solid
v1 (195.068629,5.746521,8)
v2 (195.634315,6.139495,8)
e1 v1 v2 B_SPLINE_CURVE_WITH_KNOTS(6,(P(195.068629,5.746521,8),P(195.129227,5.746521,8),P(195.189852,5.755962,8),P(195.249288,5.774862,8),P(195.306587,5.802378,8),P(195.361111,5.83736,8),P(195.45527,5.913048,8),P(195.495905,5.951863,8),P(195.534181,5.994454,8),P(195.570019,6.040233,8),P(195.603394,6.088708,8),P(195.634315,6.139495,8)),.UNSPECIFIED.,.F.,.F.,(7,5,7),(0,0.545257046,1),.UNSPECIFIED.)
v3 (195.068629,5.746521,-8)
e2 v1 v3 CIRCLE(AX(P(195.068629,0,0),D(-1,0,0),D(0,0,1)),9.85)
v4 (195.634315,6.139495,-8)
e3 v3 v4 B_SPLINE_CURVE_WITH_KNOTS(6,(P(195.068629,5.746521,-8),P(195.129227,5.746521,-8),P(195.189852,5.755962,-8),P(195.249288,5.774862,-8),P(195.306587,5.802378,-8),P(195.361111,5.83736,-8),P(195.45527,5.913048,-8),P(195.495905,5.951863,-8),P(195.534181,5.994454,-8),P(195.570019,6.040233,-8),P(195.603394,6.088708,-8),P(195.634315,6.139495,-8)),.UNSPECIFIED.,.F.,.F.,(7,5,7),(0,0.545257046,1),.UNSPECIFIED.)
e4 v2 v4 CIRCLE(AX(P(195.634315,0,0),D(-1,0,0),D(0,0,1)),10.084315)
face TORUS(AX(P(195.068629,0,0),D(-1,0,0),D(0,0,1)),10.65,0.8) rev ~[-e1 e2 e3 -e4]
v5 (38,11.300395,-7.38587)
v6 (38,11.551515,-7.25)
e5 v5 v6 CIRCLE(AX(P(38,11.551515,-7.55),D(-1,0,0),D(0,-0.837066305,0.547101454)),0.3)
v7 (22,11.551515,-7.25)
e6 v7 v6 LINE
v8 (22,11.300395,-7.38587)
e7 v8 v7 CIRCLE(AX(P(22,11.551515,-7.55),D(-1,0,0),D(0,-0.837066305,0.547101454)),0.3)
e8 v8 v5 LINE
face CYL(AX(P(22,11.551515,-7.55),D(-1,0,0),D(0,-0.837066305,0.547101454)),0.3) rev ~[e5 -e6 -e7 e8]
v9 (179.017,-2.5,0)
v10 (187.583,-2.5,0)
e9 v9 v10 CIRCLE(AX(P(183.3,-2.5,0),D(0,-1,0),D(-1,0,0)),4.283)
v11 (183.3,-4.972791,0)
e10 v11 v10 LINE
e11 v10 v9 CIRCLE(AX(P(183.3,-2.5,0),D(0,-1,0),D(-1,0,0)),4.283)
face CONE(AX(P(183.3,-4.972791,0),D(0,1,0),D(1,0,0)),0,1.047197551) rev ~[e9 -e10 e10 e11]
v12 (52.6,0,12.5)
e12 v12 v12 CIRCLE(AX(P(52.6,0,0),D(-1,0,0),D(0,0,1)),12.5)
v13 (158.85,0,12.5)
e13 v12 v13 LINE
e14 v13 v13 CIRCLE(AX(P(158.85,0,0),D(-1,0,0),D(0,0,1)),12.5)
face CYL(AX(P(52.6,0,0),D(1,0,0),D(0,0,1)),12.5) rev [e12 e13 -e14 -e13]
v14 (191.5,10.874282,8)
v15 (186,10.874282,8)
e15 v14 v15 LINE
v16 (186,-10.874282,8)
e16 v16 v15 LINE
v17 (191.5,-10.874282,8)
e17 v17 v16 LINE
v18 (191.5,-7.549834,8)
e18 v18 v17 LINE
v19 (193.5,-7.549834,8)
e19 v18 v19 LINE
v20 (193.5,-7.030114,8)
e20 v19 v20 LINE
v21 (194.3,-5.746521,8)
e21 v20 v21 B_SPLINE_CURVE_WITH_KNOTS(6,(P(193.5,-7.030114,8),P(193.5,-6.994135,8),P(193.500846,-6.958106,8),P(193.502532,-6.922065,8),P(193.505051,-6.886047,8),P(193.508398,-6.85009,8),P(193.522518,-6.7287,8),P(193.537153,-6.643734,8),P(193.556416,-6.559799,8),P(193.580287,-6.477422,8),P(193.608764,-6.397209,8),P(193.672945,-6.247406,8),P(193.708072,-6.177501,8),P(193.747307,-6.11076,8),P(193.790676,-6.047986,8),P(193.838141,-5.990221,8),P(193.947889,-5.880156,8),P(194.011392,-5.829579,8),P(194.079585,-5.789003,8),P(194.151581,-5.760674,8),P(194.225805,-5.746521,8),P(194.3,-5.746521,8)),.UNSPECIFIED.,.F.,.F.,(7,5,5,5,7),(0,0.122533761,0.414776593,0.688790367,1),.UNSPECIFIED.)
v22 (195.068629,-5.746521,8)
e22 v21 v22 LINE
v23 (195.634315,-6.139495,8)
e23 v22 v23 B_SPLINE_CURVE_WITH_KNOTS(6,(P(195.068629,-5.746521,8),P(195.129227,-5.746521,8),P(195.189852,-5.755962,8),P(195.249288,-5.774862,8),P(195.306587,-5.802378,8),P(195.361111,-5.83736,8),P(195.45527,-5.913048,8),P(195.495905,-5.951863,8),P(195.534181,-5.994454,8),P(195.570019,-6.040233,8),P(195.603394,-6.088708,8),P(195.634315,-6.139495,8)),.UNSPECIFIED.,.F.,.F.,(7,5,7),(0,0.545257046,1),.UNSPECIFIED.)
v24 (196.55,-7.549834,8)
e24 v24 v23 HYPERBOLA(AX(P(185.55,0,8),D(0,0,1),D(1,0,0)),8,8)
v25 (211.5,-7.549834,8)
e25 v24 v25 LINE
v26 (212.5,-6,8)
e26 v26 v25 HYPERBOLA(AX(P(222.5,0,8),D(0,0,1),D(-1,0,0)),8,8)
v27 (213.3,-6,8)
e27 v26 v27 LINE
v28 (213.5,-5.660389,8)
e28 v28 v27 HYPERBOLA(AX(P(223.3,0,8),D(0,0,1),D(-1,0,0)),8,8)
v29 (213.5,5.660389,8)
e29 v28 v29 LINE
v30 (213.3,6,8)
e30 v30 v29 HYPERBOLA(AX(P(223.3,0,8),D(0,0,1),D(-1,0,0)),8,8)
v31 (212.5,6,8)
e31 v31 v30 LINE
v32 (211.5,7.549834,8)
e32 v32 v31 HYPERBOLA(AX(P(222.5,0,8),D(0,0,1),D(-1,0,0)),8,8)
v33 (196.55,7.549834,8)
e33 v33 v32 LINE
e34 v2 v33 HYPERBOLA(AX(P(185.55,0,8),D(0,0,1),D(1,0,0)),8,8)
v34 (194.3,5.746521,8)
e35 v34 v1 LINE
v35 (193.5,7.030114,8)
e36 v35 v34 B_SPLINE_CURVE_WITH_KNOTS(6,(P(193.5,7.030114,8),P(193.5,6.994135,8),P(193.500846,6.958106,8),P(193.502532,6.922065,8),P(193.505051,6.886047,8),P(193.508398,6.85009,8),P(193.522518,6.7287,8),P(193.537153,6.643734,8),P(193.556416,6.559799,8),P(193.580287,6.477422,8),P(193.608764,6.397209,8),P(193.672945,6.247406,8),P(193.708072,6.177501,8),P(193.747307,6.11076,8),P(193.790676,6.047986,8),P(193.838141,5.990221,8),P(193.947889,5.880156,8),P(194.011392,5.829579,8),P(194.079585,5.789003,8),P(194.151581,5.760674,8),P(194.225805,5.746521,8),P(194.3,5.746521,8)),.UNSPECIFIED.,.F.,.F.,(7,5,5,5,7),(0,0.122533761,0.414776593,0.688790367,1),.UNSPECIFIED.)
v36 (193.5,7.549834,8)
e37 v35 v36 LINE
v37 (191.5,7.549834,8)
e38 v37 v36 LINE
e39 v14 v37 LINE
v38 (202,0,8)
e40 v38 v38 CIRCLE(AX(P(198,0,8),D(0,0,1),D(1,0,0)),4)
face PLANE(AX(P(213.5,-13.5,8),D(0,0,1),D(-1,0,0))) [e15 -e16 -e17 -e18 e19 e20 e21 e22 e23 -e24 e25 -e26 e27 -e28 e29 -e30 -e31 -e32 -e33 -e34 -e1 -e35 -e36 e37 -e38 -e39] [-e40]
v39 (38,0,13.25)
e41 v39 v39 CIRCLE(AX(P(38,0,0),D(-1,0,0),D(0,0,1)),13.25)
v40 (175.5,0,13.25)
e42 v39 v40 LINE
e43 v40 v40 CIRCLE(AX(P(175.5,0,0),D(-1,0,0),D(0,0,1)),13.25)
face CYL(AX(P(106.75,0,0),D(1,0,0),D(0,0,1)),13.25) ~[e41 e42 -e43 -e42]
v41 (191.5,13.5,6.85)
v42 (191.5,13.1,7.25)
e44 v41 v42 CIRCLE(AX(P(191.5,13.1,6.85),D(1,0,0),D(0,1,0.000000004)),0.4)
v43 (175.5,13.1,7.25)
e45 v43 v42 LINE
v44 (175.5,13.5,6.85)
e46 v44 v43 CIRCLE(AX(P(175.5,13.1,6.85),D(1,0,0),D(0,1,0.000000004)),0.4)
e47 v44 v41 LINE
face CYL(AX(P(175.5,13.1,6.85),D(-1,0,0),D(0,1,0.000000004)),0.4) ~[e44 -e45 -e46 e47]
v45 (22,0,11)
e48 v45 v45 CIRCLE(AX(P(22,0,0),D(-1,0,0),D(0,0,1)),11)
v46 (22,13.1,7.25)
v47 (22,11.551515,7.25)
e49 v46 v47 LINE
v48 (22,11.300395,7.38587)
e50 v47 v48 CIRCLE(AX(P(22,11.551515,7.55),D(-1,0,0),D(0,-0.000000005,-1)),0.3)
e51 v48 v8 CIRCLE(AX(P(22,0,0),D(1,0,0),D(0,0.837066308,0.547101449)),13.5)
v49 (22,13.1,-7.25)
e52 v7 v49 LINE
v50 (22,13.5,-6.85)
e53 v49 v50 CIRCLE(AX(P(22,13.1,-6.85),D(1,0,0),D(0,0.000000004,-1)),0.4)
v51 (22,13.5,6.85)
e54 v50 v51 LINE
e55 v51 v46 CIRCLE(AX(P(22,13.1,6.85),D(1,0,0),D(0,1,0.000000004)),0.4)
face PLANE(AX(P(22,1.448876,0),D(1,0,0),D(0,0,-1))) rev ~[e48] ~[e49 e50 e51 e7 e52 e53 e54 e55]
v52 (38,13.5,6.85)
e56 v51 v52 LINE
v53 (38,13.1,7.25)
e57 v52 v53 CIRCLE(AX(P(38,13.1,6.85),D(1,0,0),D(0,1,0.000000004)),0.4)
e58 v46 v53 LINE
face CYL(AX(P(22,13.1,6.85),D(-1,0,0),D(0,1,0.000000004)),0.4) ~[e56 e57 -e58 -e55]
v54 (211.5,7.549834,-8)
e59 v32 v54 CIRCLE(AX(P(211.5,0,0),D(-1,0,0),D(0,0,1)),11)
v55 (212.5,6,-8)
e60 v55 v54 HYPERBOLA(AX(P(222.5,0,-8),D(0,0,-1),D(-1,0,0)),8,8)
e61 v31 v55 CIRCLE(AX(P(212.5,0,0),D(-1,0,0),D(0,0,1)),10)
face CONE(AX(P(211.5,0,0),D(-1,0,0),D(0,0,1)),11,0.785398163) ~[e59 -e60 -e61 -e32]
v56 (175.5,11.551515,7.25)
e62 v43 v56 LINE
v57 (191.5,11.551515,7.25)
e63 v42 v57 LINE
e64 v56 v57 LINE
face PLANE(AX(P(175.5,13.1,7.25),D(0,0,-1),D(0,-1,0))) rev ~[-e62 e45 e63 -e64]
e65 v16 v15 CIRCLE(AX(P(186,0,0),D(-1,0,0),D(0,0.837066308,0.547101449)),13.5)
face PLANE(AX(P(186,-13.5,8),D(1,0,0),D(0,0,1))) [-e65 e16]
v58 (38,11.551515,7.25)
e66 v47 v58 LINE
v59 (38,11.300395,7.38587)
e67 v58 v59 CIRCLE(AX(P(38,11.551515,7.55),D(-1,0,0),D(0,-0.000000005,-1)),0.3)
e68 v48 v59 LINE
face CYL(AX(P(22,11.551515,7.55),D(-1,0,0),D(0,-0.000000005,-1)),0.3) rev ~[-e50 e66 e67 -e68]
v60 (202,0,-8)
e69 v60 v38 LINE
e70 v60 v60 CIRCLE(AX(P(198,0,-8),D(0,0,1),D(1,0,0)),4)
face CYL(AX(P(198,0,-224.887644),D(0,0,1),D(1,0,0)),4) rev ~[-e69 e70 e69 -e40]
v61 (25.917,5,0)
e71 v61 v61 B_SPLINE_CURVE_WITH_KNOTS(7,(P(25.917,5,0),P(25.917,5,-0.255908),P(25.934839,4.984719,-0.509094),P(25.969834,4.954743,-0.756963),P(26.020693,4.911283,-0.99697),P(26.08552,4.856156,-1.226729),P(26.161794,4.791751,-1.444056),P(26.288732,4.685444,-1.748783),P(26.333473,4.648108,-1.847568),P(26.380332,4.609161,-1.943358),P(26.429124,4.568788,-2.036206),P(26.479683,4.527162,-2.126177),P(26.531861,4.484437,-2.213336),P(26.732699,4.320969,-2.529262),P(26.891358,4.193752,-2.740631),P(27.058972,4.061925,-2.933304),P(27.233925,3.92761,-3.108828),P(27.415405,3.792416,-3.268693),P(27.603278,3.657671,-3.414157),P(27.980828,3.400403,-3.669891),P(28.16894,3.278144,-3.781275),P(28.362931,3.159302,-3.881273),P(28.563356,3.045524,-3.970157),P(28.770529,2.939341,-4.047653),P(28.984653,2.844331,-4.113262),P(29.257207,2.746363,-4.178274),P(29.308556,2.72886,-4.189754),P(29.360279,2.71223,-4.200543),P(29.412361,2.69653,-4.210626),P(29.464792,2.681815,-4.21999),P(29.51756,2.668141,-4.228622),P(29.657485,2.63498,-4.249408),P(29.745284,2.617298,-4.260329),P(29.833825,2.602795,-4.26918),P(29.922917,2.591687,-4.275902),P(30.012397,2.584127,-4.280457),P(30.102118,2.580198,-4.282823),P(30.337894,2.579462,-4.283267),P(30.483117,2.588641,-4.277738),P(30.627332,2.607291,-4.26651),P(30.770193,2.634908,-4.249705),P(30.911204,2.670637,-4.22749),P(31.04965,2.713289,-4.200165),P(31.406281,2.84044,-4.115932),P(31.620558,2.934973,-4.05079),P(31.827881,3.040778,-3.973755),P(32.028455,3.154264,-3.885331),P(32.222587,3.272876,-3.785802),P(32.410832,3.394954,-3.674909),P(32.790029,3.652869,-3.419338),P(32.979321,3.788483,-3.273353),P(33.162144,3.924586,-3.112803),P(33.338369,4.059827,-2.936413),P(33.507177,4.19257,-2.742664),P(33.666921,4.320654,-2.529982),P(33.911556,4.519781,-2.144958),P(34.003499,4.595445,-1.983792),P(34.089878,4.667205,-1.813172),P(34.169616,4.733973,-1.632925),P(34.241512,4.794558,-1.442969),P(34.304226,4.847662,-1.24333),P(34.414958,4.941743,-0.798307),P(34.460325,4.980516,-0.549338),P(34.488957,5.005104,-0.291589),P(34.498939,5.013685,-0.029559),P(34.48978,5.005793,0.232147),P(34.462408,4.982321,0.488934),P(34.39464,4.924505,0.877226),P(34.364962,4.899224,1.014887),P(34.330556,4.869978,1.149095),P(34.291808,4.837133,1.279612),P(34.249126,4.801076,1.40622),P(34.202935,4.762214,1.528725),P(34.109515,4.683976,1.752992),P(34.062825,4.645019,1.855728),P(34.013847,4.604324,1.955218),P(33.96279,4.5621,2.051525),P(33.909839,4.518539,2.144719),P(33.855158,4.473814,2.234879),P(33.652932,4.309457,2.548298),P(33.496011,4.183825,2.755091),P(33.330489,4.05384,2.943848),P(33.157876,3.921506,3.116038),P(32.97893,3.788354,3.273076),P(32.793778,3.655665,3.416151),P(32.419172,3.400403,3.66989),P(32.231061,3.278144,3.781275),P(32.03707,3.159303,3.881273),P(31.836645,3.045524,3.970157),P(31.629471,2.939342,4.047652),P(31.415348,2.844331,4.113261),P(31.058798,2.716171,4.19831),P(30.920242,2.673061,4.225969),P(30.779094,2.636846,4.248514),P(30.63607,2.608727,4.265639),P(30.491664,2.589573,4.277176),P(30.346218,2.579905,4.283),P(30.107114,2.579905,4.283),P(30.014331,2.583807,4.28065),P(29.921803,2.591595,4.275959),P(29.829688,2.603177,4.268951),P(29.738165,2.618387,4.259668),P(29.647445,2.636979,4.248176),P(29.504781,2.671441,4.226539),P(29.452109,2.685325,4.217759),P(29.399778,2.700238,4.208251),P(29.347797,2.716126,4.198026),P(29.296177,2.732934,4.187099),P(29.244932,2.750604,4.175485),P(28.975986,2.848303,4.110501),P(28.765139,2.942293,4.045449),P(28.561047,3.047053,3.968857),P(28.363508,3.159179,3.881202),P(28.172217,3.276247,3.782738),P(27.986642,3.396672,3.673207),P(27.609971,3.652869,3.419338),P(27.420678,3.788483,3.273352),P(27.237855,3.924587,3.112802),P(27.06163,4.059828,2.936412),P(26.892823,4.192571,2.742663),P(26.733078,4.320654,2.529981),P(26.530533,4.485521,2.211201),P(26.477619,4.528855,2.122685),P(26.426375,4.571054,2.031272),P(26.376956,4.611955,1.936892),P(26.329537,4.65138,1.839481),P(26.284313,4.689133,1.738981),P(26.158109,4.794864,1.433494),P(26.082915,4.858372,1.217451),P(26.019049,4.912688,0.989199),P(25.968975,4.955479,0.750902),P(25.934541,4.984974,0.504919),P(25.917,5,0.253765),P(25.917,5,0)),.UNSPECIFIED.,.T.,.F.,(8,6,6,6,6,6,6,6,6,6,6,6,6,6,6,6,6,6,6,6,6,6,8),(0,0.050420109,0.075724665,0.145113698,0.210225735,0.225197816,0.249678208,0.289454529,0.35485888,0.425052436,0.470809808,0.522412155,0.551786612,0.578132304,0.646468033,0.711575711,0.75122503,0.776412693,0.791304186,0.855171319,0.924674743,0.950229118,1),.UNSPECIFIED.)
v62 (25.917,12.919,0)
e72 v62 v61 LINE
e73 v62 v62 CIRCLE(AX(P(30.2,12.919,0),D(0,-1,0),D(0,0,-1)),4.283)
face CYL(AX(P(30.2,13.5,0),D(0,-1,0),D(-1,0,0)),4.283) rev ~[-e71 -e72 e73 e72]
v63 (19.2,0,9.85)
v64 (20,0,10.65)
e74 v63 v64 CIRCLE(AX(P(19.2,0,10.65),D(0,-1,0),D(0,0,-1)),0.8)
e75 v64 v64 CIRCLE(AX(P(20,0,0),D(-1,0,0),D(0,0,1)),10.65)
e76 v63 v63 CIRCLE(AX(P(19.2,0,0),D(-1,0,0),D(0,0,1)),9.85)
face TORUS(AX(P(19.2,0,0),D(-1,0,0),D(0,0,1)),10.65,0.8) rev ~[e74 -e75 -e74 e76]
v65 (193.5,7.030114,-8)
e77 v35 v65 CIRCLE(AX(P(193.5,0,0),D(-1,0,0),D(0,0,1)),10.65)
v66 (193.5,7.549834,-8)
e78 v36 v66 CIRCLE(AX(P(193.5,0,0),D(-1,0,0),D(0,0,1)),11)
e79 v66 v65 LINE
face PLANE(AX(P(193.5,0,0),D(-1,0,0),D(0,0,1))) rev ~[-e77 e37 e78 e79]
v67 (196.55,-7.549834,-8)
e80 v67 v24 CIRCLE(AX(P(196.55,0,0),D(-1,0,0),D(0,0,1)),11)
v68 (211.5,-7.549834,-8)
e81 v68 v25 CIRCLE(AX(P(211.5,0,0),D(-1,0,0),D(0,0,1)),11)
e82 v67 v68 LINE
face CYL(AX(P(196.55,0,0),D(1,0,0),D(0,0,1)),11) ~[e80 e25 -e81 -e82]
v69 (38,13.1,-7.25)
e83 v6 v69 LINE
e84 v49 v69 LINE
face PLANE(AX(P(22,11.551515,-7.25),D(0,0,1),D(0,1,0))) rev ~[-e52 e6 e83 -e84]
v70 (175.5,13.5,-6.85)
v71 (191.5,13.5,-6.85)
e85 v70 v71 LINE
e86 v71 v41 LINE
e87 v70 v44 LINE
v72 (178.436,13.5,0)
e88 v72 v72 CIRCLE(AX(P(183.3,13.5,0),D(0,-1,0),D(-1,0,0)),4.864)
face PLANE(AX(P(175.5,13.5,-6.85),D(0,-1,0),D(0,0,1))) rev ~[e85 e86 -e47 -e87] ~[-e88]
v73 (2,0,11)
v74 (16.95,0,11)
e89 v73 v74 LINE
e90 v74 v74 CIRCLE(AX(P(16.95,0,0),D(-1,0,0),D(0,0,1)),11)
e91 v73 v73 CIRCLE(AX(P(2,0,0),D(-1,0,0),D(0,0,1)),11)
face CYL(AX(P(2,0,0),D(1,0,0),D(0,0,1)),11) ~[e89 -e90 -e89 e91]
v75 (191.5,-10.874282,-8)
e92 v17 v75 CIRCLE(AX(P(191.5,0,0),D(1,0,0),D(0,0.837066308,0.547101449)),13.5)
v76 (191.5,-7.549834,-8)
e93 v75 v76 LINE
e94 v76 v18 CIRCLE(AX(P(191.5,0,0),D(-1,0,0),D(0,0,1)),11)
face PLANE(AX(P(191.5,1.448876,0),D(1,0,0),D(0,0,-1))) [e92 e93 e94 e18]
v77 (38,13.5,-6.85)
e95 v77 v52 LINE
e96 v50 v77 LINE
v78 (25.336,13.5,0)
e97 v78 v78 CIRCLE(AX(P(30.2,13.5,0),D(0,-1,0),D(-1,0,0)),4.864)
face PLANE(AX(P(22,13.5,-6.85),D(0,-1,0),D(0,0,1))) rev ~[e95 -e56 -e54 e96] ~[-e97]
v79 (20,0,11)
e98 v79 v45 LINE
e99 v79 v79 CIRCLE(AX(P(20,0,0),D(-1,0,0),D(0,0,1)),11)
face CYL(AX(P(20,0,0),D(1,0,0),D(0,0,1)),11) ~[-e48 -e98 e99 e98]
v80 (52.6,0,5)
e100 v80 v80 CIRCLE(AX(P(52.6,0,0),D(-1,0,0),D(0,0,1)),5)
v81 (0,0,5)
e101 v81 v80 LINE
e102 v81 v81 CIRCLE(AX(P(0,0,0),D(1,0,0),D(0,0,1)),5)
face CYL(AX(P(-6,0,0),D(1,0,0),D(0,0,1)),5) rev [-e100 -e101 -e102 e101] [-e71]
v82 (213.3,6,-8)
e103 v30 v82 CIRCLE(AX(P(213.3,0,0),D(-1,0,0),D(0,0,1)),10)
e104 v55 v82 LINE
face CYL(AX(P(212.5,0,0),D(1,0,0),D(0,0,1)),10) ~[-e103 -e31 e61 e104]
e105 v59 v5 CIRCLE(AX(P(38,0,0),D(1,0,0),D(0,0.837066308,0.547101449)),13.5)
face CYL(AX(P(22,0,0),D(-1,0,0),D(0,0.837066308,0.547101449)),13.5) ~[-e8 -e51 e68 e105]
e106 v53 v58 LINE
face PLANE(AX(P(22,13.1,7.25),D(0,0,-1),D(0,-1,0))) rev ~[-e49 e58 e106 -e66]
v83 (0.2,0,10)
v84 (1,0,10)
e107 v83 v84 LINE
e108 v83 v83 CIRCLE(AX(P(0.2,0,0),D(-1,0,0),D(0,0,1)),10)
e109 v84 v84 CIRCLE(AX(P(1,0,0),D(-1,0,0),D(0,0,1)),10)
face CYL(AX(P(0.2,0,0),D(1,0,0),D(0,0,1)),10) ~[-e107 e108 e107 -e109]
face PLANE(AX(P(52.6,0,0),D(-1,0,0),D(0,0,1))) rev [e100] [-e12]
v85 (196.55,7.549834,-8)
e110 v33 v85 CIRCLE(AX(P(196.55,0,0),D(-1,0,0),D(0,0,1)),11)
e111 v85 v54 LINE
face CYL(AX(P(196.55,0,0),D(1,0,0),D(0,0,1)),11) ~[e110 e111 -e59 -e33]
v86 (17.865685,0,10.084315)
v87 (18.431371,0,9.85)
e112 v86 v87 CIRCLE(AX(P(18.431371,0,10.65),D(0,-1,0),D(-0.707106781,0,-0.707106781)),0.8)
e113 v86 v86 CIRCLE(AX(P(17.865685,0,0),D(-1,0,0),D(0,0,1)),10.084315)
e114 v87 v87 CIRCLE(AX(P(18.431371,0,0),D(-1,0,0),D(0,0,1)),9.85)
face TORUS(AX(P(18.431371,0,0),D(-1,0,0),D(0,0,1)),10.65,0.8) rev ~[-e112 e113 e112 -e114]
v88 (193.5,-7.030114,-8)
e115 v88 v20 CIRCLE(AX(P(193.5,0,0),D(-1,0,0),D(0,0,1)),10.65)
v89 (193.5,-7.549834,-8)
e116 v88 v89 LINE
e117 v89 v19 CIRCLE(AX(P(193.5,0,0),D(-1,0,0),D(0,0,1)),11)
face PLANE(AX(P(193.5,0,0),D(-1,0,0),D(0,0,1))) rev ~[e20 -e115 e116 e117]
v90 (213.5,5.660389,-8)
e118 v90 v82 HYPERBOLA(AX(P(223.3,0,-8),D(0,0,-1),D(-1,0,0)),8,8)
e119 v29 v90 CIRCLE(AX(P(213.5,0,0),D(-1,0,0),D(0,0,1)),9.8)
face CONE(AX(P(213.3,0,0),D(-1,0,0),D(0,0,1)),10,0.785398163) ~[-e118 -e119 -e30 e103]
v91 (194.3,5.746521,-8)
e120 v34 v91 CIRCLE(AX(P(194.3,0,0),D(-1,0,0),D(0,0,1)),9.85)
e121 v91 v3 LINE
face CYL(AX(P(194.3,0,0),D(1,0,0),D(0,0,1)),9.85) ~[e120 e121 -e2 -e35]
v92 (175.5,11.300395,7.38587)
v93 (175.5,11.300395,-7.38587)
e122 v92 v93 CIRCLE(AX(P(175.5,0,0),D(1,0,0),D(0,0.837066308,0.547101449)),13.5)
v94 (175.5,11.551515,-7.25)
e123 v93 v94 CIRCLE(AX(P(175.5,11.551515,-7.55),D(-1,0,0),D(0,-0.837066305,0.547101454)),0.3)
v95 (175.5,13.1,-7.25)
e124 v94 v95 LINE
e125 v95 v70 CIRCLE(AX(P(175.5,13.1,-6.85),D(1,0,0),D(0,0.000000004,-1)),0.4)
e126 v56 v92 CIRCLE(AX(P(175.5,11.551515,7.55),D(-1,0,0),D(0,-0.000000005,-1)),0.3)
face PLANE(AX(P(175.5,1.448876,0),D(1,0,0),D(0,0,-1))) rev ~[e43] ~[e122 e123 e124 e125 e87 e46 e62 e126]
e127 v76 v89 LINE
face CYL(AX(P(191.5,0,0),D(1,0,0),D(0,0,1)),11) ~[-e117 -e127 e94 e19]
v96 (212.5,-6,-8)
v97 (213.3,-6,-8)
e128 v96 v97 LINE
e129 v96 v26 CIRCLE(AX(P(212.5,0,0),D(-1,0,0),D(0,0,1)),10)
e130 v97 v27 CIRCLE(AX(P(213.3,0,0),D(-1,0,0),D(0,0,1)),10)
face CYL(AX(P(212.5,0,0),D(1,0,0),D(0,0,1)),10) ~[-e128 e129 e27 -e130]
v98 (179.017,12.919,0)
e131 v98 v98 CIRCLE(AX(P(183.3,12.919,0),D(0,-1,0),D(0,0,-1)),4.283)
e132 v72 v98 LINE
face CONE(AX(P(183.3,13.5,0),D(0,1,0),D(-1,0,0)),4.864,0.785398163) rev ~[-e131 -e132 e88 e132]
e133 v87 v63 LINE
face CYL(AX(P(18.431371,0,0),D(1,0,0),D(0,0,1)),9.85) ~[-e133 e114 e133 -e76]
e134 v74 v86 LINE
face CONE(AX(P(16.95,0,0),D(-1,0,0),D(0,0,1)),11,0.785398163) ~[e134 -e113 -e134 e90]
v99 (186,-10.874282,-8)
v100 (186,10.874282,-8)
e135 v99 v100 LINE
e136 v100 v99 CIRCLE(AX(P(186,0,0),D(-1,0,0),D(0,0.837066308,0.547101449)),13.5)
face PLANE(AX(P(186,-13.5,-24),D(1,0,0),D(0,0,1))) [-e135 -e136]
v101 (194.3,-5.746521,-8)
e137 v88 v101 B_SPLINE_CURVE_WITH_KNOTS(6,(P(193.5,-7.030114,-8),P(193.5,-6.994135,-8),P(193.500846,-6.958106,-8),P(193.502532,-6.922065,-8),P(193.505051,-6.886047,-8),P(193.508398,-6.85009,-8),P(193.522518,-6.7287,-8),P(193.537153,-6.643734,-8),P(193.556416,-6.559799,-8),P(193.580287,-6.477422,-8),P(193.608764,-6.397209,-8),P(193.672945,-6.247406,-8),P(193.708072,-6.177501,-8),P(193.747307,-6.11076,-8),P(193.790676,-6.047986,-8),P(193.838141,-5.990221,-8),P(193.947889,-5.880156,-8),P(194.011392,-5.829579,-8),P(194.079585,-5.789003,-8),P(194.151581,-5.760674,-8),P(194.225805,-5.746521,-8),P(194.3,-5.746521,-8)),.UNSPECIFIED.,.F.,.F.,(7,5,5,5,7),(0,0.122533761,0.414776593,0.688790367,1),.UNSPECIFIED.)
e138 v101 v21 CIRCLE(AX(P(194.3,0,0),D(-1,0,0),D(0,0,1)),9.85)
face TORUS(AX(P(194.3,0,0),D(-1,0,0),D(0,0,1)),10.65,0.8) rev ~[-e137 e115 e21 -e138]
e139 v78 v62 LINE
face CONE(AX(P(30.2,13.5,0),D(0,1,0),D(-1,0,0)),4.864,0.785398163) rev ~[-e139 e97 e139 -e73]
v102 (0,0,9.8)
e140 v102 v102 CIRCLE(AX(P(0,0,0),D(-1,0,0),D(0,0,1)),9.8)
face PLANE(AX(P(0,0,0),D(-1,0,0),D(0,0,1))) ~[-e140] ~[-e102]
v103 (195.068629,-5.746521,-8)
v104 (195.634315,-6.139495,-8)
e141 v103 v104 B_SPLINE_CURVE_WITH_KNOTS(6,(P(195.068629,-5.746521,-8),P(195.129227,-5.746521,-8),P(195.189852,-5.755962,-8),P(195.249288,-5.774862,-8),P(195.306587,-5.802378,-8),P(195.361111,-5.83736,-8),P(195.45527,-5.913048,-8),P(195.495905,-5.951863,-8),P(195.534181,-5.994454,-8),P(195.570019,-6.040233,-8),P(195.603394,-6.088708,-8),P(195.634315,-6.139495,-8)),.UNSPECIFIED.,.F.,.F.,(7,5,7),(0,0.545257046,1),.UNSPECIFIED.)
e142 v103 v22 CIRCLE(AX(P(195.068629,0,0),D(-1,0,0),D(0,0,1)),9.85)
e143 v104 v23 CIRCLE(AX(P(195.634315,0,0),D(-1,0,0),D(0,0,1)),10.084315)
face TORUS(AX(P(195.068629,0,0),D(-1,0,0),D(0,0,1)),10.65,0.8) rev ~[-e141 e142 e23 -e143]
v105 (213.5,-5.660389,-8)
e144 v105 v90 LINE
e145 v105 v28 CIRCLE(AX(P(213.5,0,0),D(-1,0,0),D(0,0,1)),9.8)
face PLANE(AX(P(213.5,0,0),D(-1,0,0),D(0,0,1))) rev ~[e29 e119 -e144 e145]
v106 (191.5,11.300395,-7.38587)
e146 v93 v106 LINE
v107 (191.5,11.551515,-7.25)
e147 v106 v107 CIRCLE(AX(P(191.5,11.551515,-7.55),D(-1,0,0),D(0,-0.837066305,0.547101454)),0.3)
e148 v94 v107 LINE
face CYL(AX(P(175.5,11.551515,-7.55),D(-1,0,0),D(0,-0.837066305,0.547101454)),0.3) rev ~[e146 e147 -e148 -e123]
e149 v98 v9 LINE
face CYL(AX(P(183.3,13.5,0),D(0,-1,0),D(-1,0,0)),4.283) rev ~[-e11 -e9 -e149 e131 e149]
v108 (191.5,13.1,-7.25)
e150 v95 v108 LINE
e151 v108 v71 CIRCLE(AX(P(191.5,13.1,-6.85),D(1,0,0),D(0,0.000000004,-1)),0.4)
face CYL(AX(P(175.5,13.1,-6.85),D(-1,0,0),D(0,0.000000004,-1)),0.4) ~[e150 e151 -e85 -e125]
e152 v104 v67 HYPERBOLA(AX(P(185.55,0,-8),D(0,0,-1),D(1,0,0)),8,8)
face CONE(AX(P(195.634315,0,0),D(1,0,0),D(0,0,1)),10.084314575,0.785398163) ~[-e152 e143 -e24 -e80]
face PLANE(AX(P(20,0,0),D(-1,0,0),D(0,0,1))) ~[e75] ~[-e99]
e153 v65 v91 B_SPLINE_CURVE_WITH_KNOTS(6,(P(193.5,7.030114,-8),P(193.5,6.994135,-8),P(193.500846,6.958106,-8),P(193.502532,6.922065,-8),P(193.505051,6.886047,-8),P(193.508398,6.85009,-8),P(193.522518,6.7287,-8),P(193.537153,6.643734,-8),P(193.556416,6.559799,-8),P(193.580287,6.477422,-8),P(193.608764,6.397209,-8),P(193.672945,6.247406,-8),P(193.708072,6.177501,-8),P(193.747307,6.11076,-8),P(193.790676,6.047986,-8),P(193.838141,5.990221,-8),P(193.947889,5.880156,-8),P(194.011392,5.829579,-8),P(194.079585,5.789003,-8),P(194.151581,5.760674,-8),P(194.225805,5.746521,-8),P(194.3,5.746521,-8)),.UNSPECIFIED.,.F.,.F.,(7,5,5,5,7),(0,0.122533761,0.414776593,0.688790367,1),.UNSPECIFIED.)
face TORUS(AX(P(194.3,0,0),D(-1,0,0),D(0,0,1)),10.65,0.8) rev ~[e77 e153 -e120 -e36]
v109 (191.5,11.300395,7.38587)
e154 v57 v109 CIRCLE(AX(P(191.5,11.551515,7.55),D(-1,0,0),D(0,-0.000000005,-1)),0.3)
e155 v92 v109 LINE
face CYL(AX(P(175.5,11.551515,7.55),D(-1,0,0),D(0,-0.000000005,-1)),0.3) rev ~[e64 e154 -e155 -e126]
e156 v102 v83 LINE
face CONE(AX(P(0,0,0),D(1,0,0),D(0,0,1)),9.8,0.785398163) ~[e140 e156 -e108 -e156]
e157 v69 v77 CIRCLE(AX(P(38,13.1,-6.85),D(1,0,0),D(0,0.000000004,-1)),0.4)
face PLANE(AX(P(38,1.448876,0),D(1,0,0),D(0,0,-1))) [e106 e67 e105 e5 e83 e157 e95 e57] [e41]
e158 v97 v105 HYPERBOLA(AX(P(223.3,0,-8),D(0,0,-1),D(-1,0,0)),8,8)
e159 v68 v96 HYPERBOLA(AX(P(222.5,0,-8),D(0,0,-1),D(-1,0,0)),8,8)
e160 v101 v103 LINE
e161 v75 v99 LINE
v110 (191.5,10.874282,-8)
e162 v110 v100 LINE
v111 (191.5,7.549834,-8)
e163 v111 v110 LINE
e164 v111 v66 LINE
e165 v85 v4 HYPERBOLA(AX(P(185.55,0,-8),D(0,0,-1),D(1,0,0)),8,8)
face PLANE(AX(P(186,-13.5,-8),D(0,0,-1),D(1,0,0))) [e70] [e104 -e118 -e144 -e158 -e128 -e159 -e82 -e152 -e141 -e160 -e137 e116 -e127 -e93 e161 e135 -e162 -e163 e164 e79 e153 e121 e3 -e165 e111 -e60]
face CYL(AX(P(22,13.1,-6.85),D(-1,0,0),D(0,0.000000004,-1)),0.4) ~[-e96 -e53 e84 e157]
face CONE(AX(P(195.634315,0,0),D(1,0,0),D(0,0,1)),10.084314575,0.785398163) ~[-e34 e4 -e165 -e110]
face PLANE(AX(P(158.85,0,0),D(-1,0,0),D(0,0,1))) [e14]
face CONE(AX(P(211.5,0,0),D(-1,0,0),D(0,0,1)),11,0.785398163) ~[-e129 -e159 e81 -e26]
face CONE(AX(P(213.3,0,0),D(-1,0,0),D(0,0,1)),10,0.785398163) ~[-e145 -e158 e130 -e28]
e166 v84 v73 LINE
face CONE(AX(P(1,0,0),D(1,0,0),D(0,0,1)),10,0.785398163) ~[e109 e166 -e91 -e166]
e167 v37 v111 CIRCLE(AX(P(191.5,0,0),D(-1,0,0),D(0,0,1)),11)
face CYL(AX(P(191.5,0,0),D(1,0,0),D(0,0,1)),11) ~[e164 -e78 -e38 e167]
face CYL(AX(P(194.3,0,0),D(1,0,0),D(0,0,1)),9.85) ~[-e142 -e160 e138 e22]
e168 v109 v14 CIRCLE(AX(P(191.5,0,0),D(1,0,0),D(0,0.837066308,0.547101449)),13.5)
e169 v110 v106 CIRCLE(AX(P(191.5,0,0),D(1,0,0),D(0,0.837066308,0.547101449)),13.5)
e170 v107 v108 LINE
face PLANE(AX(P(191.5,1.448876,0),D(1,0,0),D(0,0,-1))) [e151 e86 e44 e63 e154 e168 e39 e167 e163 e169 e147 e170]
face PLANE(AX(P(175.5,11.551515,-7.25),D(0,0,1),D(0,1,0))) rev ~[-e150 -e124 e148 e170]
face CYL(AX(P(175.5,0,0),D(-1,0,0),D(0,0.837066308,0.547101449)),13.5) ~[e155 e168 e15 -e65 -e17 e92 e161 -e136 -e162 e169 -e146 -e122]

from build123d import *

# Parameters (mm, degrees)
AUFSATZ_LINEAR_AUSTRAGEN1_DEPTH      = 16
SKIZZE3_W                            = 137.5
SKIZZE3_H                            = 13.25
AUFSATZ_LINEAR_AUSTRAGEN2_DEPTH      = 16
SCHNITT_LINEAR_AUSTRAGEN1_DEPTH      = 13.5
SCHNITT_LINEAR_AUSTRAGEN1_DEPTH_BACK = 13.5
BOHRUNG1_D                           = 8
BOHRUNG2_D                           = 8.566
BOHRUNG2_DEPTH                       = 13.5
BOHRUNG2_CSINK_D                     = 9.728
BOHRUNG2_CSINK_ANGLE                 = 90
BOHRUNG3_D                           = 8.566
BOHRUNG3_DEPTH                       = 16
BOHRUNG3_CSINK_D                     = 9.728
BOHRUNG3_CSINK_ANGLE                 = 90
BOHRUNG3_TIP                         = 2.472791203


with BuildPart() as part:
    # Skizze1 → Rotation1 (revolve)
    with BuildSketch(Plane.XY):
        with BuildLine():
            Line((0, 0), (0, 9.8))
            Line((0, 9.8), (0.2, 10))
            Line((0.2, 10), (1, 10))
            Line((1, 10), (2, 11))
            Line((2, 11), (16.95, 11))
            Line((16.95, 11), (17.865685425, 10.084314575))
            ThreePointArc((17.865685425, 10.084314575), (18.125224104, 9.910896374), (18.43137085, 9.85))
            Line((18.43137085, 9.85), (19.2, 9.85))
            ThreePointArc((19.2, 9.85), (19.765685425, 10.084314575), (20, 10.65))
            Line((20, 10.65), (20, 11))
            Line((20, 11), (22, 11))
            Line((22, 11), (22, 0))
            Line((22, 0), (0, 0))
        make_face()
    revolve(axis=Axis((22, 0, 0), (-1, 0, 0)))

    # Skizze2 → Aufsatz-Linear austragen1 (add)
    with BuildSketch(Plane(origin=(22, 0, 0), x_dir=(0, 0, -1), z_dir=(1, 0, 0))):
        with BuildLine():
            Line((7.25, 11.551515052), (7.25, 13.1))
            ThreePointArc((7.25, 13.1), (7.132842712, 13.382842712), (6.85, 13.5))
            Line((6.85, 13.5), (-6.85, 13.5))
            ThreePointArc((-6.85, 13.5), (-7.132842712, 13.382842712), (-7.25, 13.1))
            Line((-7.25, 13.1), (-7.25, 11.551515052))
            ThreePointArc((-7.25, 11.551515052), (-7.286144803, 11.408754992), (-7.385869565, 11.30039516))
            ThreePointArc((-7.385869565, 11.30039516), (0, -13.5), (7.385869565, 11.30039516))
            ThreePointArc((7.385869565, 11.30039516), (7.286144803, 11.408754992), (7.25, 11.551515052))
        make_face()
    extrude(amount=AUFSATZ_LINEAR_AUSTRAGEN1_DEPTH)

    # Skizze3 → Rotation2 (revolve)
    with BuildSketch(Plane.XY):
        with Locations((106.75, 6.625)):
            Rectangle(SKIZZE3_W, SKIZZE3_H)
    revolve(axis=Axis((175.5, 0, 0), (-1, 0, 0)))

    # Skizze4 → Aufsatz-Linear austragen2 (add)
    with BuildSketch(Plane(origin=(175.5, 0, 0), x_dir=(0, 0, -1), z_dir=(1, 0, 0))):
        with BuildLine():
            Line((7.25, 11.551515052), (7.25, 13.1))
            ThreePointArc((7.25, 13.1), (7.132842712, 13.382842712), (6.85, 13.5))
            Line((6.85, 13.5), (-6.85, 13.5))
            ThreePointArc((-6.85, 13.5), (-7.132842712, 13.382842712), (-7.25, 13.1))
            Line((-7.25, 13.1), (-7.25, 11.551515052))
            ThreePointArc((-7.25, 11.551515052), (-7.286144803, 11.408754992), (-7.385869565, 11.30039516))
            ThreePointArc((-7.385869565, 11.30039516), (0, -13.5), (7.385869565, 11.30039516))
            ThreePointArc((7.385869565, 11.30039516), (7.286144803, 11.408754992), (7.25, 11.551515052))
        make_face()
    extrude(amount=AUFSATZ_LINEAR_AUSTRAGEN2_DEPTH)

    # Skizze5 → Rotation3 (revolve)
    with BuildSketch(Plane.XY):
        with BuildLine():
            Line((191.5, 0), (191.5, 11))
            Line((191.5, 11), (193.5, 11))
            Line((193.5, 11), (193.5, 10.65))
            ThreePointArc((193.5, 10.65), (193.734314575, 10.084314575), (194.3, 9.85))
            Line((194.3, 9.85), (195.06862915, 9.85))
            ThreePointArc((195.06862915, 9.85), (195.374775896, 9.910896374), (195.634314575, 10.084314575))
            Line((195.634314575, 10.084314575), (196.55, 11))
            Line((196.55, 11), (211.5, 11))
            Line((211.5, 11), (212.5, 10))
            Line((212.5, 10), (213.3, 10))
            Line((213.3, 10), (213.5, 9.8))
            Line((213.5, 9.8), (213.5, 0))
            Line((213.5, 0), (191.5, 0))
        make_face()
    revolve(axis=Axis((213.5, 0, 0), (-1, 0, 0)))

    # Skizze6 → Schnitt-Linear austragen1 (cut, two sides: drawn at the far end of the back side and taken through both)
    with BuildSketch(Plane(origin=(0, 0, 0), x_dir=(1, 0, 0), z_dir=(0, 1, 0)).offset(-SCHNITT_LINEAR_AUSTRAGEN1_DEPTH_BACK)):
        Polygon((186, 24), (186, 8), (213.5, 8), (213.5, -8), (186, -8), (186, -24), (229.5, -24), (229.5, 24), align=None)
    extrude(amount=SCHNITT_LINEAR_AUSTRAGEN1_DEPTH + SCHNITT_LINEAR_AUSTRAGEN1_DEPTH_BACK, mode=Mode.SUBTRACT)

    # Bohrung1 (through all)
    with Locations(Plane(origin=(0, 0, -8), x_dir=(-1, 0, 0), z_dir=(0, 0, -1))):
        with Locations((-198, 0)):
            Hole(BOHRUNG1_D / 2)

    # Bohrung2
    with Locations(Plane(origin=(0, 13.5, 0), x_dir=(1, 0, 0), z_dir=(0, 1, 0))):
        with Locations((30.2, 0)):
            CounterSinkHole(BOHRUNG2_D / 2, BOHRUNG2_CSINK_D / 2, depth=BOHRUNG2_DEPTH, counter_sink_angle=BOHRUNG2_CSINK_ANGLE)

    # Bohrung3
    with Locations(Plane(origin=(0, 13.5, 0), x_dir=(1, 0, 0), z_dir=(0, 1, 0))):
        with Locations((183.3, 0)):
            CounterSinkHole(BOHRUNG3_D / 2, BOHRUNG3_CSINK_D / 2, depth=BOHRUNG3_DEPTH, counter_sink_angle=BOHRUNG3_CSINK_ANGLE)
            with Locations((0, 0, -(BOHRUNG3_DEPTH + BOHRUNG3_TIP / 2))):  # 120° drill point
                Cone(0, BOHRUNG3_D / 2, BOHRUNG3_TIP, mode=Mode.SUBTRACT)

    # Skizze13 → Schnitt-Rotation1 (revolve, cut)
    with BuildSketch(Plane.XY):
        Polygon((-6, 0), (-6, 5), (52.6, 5), (52.6, 12.5), (158.85, 12.5), (158.85, 0), align=None)
    revolve(axis=Axis((158.85, 0, 0), (-1, 0, 0)), mode=Mode.SUBTRACT)


solid = part.part
